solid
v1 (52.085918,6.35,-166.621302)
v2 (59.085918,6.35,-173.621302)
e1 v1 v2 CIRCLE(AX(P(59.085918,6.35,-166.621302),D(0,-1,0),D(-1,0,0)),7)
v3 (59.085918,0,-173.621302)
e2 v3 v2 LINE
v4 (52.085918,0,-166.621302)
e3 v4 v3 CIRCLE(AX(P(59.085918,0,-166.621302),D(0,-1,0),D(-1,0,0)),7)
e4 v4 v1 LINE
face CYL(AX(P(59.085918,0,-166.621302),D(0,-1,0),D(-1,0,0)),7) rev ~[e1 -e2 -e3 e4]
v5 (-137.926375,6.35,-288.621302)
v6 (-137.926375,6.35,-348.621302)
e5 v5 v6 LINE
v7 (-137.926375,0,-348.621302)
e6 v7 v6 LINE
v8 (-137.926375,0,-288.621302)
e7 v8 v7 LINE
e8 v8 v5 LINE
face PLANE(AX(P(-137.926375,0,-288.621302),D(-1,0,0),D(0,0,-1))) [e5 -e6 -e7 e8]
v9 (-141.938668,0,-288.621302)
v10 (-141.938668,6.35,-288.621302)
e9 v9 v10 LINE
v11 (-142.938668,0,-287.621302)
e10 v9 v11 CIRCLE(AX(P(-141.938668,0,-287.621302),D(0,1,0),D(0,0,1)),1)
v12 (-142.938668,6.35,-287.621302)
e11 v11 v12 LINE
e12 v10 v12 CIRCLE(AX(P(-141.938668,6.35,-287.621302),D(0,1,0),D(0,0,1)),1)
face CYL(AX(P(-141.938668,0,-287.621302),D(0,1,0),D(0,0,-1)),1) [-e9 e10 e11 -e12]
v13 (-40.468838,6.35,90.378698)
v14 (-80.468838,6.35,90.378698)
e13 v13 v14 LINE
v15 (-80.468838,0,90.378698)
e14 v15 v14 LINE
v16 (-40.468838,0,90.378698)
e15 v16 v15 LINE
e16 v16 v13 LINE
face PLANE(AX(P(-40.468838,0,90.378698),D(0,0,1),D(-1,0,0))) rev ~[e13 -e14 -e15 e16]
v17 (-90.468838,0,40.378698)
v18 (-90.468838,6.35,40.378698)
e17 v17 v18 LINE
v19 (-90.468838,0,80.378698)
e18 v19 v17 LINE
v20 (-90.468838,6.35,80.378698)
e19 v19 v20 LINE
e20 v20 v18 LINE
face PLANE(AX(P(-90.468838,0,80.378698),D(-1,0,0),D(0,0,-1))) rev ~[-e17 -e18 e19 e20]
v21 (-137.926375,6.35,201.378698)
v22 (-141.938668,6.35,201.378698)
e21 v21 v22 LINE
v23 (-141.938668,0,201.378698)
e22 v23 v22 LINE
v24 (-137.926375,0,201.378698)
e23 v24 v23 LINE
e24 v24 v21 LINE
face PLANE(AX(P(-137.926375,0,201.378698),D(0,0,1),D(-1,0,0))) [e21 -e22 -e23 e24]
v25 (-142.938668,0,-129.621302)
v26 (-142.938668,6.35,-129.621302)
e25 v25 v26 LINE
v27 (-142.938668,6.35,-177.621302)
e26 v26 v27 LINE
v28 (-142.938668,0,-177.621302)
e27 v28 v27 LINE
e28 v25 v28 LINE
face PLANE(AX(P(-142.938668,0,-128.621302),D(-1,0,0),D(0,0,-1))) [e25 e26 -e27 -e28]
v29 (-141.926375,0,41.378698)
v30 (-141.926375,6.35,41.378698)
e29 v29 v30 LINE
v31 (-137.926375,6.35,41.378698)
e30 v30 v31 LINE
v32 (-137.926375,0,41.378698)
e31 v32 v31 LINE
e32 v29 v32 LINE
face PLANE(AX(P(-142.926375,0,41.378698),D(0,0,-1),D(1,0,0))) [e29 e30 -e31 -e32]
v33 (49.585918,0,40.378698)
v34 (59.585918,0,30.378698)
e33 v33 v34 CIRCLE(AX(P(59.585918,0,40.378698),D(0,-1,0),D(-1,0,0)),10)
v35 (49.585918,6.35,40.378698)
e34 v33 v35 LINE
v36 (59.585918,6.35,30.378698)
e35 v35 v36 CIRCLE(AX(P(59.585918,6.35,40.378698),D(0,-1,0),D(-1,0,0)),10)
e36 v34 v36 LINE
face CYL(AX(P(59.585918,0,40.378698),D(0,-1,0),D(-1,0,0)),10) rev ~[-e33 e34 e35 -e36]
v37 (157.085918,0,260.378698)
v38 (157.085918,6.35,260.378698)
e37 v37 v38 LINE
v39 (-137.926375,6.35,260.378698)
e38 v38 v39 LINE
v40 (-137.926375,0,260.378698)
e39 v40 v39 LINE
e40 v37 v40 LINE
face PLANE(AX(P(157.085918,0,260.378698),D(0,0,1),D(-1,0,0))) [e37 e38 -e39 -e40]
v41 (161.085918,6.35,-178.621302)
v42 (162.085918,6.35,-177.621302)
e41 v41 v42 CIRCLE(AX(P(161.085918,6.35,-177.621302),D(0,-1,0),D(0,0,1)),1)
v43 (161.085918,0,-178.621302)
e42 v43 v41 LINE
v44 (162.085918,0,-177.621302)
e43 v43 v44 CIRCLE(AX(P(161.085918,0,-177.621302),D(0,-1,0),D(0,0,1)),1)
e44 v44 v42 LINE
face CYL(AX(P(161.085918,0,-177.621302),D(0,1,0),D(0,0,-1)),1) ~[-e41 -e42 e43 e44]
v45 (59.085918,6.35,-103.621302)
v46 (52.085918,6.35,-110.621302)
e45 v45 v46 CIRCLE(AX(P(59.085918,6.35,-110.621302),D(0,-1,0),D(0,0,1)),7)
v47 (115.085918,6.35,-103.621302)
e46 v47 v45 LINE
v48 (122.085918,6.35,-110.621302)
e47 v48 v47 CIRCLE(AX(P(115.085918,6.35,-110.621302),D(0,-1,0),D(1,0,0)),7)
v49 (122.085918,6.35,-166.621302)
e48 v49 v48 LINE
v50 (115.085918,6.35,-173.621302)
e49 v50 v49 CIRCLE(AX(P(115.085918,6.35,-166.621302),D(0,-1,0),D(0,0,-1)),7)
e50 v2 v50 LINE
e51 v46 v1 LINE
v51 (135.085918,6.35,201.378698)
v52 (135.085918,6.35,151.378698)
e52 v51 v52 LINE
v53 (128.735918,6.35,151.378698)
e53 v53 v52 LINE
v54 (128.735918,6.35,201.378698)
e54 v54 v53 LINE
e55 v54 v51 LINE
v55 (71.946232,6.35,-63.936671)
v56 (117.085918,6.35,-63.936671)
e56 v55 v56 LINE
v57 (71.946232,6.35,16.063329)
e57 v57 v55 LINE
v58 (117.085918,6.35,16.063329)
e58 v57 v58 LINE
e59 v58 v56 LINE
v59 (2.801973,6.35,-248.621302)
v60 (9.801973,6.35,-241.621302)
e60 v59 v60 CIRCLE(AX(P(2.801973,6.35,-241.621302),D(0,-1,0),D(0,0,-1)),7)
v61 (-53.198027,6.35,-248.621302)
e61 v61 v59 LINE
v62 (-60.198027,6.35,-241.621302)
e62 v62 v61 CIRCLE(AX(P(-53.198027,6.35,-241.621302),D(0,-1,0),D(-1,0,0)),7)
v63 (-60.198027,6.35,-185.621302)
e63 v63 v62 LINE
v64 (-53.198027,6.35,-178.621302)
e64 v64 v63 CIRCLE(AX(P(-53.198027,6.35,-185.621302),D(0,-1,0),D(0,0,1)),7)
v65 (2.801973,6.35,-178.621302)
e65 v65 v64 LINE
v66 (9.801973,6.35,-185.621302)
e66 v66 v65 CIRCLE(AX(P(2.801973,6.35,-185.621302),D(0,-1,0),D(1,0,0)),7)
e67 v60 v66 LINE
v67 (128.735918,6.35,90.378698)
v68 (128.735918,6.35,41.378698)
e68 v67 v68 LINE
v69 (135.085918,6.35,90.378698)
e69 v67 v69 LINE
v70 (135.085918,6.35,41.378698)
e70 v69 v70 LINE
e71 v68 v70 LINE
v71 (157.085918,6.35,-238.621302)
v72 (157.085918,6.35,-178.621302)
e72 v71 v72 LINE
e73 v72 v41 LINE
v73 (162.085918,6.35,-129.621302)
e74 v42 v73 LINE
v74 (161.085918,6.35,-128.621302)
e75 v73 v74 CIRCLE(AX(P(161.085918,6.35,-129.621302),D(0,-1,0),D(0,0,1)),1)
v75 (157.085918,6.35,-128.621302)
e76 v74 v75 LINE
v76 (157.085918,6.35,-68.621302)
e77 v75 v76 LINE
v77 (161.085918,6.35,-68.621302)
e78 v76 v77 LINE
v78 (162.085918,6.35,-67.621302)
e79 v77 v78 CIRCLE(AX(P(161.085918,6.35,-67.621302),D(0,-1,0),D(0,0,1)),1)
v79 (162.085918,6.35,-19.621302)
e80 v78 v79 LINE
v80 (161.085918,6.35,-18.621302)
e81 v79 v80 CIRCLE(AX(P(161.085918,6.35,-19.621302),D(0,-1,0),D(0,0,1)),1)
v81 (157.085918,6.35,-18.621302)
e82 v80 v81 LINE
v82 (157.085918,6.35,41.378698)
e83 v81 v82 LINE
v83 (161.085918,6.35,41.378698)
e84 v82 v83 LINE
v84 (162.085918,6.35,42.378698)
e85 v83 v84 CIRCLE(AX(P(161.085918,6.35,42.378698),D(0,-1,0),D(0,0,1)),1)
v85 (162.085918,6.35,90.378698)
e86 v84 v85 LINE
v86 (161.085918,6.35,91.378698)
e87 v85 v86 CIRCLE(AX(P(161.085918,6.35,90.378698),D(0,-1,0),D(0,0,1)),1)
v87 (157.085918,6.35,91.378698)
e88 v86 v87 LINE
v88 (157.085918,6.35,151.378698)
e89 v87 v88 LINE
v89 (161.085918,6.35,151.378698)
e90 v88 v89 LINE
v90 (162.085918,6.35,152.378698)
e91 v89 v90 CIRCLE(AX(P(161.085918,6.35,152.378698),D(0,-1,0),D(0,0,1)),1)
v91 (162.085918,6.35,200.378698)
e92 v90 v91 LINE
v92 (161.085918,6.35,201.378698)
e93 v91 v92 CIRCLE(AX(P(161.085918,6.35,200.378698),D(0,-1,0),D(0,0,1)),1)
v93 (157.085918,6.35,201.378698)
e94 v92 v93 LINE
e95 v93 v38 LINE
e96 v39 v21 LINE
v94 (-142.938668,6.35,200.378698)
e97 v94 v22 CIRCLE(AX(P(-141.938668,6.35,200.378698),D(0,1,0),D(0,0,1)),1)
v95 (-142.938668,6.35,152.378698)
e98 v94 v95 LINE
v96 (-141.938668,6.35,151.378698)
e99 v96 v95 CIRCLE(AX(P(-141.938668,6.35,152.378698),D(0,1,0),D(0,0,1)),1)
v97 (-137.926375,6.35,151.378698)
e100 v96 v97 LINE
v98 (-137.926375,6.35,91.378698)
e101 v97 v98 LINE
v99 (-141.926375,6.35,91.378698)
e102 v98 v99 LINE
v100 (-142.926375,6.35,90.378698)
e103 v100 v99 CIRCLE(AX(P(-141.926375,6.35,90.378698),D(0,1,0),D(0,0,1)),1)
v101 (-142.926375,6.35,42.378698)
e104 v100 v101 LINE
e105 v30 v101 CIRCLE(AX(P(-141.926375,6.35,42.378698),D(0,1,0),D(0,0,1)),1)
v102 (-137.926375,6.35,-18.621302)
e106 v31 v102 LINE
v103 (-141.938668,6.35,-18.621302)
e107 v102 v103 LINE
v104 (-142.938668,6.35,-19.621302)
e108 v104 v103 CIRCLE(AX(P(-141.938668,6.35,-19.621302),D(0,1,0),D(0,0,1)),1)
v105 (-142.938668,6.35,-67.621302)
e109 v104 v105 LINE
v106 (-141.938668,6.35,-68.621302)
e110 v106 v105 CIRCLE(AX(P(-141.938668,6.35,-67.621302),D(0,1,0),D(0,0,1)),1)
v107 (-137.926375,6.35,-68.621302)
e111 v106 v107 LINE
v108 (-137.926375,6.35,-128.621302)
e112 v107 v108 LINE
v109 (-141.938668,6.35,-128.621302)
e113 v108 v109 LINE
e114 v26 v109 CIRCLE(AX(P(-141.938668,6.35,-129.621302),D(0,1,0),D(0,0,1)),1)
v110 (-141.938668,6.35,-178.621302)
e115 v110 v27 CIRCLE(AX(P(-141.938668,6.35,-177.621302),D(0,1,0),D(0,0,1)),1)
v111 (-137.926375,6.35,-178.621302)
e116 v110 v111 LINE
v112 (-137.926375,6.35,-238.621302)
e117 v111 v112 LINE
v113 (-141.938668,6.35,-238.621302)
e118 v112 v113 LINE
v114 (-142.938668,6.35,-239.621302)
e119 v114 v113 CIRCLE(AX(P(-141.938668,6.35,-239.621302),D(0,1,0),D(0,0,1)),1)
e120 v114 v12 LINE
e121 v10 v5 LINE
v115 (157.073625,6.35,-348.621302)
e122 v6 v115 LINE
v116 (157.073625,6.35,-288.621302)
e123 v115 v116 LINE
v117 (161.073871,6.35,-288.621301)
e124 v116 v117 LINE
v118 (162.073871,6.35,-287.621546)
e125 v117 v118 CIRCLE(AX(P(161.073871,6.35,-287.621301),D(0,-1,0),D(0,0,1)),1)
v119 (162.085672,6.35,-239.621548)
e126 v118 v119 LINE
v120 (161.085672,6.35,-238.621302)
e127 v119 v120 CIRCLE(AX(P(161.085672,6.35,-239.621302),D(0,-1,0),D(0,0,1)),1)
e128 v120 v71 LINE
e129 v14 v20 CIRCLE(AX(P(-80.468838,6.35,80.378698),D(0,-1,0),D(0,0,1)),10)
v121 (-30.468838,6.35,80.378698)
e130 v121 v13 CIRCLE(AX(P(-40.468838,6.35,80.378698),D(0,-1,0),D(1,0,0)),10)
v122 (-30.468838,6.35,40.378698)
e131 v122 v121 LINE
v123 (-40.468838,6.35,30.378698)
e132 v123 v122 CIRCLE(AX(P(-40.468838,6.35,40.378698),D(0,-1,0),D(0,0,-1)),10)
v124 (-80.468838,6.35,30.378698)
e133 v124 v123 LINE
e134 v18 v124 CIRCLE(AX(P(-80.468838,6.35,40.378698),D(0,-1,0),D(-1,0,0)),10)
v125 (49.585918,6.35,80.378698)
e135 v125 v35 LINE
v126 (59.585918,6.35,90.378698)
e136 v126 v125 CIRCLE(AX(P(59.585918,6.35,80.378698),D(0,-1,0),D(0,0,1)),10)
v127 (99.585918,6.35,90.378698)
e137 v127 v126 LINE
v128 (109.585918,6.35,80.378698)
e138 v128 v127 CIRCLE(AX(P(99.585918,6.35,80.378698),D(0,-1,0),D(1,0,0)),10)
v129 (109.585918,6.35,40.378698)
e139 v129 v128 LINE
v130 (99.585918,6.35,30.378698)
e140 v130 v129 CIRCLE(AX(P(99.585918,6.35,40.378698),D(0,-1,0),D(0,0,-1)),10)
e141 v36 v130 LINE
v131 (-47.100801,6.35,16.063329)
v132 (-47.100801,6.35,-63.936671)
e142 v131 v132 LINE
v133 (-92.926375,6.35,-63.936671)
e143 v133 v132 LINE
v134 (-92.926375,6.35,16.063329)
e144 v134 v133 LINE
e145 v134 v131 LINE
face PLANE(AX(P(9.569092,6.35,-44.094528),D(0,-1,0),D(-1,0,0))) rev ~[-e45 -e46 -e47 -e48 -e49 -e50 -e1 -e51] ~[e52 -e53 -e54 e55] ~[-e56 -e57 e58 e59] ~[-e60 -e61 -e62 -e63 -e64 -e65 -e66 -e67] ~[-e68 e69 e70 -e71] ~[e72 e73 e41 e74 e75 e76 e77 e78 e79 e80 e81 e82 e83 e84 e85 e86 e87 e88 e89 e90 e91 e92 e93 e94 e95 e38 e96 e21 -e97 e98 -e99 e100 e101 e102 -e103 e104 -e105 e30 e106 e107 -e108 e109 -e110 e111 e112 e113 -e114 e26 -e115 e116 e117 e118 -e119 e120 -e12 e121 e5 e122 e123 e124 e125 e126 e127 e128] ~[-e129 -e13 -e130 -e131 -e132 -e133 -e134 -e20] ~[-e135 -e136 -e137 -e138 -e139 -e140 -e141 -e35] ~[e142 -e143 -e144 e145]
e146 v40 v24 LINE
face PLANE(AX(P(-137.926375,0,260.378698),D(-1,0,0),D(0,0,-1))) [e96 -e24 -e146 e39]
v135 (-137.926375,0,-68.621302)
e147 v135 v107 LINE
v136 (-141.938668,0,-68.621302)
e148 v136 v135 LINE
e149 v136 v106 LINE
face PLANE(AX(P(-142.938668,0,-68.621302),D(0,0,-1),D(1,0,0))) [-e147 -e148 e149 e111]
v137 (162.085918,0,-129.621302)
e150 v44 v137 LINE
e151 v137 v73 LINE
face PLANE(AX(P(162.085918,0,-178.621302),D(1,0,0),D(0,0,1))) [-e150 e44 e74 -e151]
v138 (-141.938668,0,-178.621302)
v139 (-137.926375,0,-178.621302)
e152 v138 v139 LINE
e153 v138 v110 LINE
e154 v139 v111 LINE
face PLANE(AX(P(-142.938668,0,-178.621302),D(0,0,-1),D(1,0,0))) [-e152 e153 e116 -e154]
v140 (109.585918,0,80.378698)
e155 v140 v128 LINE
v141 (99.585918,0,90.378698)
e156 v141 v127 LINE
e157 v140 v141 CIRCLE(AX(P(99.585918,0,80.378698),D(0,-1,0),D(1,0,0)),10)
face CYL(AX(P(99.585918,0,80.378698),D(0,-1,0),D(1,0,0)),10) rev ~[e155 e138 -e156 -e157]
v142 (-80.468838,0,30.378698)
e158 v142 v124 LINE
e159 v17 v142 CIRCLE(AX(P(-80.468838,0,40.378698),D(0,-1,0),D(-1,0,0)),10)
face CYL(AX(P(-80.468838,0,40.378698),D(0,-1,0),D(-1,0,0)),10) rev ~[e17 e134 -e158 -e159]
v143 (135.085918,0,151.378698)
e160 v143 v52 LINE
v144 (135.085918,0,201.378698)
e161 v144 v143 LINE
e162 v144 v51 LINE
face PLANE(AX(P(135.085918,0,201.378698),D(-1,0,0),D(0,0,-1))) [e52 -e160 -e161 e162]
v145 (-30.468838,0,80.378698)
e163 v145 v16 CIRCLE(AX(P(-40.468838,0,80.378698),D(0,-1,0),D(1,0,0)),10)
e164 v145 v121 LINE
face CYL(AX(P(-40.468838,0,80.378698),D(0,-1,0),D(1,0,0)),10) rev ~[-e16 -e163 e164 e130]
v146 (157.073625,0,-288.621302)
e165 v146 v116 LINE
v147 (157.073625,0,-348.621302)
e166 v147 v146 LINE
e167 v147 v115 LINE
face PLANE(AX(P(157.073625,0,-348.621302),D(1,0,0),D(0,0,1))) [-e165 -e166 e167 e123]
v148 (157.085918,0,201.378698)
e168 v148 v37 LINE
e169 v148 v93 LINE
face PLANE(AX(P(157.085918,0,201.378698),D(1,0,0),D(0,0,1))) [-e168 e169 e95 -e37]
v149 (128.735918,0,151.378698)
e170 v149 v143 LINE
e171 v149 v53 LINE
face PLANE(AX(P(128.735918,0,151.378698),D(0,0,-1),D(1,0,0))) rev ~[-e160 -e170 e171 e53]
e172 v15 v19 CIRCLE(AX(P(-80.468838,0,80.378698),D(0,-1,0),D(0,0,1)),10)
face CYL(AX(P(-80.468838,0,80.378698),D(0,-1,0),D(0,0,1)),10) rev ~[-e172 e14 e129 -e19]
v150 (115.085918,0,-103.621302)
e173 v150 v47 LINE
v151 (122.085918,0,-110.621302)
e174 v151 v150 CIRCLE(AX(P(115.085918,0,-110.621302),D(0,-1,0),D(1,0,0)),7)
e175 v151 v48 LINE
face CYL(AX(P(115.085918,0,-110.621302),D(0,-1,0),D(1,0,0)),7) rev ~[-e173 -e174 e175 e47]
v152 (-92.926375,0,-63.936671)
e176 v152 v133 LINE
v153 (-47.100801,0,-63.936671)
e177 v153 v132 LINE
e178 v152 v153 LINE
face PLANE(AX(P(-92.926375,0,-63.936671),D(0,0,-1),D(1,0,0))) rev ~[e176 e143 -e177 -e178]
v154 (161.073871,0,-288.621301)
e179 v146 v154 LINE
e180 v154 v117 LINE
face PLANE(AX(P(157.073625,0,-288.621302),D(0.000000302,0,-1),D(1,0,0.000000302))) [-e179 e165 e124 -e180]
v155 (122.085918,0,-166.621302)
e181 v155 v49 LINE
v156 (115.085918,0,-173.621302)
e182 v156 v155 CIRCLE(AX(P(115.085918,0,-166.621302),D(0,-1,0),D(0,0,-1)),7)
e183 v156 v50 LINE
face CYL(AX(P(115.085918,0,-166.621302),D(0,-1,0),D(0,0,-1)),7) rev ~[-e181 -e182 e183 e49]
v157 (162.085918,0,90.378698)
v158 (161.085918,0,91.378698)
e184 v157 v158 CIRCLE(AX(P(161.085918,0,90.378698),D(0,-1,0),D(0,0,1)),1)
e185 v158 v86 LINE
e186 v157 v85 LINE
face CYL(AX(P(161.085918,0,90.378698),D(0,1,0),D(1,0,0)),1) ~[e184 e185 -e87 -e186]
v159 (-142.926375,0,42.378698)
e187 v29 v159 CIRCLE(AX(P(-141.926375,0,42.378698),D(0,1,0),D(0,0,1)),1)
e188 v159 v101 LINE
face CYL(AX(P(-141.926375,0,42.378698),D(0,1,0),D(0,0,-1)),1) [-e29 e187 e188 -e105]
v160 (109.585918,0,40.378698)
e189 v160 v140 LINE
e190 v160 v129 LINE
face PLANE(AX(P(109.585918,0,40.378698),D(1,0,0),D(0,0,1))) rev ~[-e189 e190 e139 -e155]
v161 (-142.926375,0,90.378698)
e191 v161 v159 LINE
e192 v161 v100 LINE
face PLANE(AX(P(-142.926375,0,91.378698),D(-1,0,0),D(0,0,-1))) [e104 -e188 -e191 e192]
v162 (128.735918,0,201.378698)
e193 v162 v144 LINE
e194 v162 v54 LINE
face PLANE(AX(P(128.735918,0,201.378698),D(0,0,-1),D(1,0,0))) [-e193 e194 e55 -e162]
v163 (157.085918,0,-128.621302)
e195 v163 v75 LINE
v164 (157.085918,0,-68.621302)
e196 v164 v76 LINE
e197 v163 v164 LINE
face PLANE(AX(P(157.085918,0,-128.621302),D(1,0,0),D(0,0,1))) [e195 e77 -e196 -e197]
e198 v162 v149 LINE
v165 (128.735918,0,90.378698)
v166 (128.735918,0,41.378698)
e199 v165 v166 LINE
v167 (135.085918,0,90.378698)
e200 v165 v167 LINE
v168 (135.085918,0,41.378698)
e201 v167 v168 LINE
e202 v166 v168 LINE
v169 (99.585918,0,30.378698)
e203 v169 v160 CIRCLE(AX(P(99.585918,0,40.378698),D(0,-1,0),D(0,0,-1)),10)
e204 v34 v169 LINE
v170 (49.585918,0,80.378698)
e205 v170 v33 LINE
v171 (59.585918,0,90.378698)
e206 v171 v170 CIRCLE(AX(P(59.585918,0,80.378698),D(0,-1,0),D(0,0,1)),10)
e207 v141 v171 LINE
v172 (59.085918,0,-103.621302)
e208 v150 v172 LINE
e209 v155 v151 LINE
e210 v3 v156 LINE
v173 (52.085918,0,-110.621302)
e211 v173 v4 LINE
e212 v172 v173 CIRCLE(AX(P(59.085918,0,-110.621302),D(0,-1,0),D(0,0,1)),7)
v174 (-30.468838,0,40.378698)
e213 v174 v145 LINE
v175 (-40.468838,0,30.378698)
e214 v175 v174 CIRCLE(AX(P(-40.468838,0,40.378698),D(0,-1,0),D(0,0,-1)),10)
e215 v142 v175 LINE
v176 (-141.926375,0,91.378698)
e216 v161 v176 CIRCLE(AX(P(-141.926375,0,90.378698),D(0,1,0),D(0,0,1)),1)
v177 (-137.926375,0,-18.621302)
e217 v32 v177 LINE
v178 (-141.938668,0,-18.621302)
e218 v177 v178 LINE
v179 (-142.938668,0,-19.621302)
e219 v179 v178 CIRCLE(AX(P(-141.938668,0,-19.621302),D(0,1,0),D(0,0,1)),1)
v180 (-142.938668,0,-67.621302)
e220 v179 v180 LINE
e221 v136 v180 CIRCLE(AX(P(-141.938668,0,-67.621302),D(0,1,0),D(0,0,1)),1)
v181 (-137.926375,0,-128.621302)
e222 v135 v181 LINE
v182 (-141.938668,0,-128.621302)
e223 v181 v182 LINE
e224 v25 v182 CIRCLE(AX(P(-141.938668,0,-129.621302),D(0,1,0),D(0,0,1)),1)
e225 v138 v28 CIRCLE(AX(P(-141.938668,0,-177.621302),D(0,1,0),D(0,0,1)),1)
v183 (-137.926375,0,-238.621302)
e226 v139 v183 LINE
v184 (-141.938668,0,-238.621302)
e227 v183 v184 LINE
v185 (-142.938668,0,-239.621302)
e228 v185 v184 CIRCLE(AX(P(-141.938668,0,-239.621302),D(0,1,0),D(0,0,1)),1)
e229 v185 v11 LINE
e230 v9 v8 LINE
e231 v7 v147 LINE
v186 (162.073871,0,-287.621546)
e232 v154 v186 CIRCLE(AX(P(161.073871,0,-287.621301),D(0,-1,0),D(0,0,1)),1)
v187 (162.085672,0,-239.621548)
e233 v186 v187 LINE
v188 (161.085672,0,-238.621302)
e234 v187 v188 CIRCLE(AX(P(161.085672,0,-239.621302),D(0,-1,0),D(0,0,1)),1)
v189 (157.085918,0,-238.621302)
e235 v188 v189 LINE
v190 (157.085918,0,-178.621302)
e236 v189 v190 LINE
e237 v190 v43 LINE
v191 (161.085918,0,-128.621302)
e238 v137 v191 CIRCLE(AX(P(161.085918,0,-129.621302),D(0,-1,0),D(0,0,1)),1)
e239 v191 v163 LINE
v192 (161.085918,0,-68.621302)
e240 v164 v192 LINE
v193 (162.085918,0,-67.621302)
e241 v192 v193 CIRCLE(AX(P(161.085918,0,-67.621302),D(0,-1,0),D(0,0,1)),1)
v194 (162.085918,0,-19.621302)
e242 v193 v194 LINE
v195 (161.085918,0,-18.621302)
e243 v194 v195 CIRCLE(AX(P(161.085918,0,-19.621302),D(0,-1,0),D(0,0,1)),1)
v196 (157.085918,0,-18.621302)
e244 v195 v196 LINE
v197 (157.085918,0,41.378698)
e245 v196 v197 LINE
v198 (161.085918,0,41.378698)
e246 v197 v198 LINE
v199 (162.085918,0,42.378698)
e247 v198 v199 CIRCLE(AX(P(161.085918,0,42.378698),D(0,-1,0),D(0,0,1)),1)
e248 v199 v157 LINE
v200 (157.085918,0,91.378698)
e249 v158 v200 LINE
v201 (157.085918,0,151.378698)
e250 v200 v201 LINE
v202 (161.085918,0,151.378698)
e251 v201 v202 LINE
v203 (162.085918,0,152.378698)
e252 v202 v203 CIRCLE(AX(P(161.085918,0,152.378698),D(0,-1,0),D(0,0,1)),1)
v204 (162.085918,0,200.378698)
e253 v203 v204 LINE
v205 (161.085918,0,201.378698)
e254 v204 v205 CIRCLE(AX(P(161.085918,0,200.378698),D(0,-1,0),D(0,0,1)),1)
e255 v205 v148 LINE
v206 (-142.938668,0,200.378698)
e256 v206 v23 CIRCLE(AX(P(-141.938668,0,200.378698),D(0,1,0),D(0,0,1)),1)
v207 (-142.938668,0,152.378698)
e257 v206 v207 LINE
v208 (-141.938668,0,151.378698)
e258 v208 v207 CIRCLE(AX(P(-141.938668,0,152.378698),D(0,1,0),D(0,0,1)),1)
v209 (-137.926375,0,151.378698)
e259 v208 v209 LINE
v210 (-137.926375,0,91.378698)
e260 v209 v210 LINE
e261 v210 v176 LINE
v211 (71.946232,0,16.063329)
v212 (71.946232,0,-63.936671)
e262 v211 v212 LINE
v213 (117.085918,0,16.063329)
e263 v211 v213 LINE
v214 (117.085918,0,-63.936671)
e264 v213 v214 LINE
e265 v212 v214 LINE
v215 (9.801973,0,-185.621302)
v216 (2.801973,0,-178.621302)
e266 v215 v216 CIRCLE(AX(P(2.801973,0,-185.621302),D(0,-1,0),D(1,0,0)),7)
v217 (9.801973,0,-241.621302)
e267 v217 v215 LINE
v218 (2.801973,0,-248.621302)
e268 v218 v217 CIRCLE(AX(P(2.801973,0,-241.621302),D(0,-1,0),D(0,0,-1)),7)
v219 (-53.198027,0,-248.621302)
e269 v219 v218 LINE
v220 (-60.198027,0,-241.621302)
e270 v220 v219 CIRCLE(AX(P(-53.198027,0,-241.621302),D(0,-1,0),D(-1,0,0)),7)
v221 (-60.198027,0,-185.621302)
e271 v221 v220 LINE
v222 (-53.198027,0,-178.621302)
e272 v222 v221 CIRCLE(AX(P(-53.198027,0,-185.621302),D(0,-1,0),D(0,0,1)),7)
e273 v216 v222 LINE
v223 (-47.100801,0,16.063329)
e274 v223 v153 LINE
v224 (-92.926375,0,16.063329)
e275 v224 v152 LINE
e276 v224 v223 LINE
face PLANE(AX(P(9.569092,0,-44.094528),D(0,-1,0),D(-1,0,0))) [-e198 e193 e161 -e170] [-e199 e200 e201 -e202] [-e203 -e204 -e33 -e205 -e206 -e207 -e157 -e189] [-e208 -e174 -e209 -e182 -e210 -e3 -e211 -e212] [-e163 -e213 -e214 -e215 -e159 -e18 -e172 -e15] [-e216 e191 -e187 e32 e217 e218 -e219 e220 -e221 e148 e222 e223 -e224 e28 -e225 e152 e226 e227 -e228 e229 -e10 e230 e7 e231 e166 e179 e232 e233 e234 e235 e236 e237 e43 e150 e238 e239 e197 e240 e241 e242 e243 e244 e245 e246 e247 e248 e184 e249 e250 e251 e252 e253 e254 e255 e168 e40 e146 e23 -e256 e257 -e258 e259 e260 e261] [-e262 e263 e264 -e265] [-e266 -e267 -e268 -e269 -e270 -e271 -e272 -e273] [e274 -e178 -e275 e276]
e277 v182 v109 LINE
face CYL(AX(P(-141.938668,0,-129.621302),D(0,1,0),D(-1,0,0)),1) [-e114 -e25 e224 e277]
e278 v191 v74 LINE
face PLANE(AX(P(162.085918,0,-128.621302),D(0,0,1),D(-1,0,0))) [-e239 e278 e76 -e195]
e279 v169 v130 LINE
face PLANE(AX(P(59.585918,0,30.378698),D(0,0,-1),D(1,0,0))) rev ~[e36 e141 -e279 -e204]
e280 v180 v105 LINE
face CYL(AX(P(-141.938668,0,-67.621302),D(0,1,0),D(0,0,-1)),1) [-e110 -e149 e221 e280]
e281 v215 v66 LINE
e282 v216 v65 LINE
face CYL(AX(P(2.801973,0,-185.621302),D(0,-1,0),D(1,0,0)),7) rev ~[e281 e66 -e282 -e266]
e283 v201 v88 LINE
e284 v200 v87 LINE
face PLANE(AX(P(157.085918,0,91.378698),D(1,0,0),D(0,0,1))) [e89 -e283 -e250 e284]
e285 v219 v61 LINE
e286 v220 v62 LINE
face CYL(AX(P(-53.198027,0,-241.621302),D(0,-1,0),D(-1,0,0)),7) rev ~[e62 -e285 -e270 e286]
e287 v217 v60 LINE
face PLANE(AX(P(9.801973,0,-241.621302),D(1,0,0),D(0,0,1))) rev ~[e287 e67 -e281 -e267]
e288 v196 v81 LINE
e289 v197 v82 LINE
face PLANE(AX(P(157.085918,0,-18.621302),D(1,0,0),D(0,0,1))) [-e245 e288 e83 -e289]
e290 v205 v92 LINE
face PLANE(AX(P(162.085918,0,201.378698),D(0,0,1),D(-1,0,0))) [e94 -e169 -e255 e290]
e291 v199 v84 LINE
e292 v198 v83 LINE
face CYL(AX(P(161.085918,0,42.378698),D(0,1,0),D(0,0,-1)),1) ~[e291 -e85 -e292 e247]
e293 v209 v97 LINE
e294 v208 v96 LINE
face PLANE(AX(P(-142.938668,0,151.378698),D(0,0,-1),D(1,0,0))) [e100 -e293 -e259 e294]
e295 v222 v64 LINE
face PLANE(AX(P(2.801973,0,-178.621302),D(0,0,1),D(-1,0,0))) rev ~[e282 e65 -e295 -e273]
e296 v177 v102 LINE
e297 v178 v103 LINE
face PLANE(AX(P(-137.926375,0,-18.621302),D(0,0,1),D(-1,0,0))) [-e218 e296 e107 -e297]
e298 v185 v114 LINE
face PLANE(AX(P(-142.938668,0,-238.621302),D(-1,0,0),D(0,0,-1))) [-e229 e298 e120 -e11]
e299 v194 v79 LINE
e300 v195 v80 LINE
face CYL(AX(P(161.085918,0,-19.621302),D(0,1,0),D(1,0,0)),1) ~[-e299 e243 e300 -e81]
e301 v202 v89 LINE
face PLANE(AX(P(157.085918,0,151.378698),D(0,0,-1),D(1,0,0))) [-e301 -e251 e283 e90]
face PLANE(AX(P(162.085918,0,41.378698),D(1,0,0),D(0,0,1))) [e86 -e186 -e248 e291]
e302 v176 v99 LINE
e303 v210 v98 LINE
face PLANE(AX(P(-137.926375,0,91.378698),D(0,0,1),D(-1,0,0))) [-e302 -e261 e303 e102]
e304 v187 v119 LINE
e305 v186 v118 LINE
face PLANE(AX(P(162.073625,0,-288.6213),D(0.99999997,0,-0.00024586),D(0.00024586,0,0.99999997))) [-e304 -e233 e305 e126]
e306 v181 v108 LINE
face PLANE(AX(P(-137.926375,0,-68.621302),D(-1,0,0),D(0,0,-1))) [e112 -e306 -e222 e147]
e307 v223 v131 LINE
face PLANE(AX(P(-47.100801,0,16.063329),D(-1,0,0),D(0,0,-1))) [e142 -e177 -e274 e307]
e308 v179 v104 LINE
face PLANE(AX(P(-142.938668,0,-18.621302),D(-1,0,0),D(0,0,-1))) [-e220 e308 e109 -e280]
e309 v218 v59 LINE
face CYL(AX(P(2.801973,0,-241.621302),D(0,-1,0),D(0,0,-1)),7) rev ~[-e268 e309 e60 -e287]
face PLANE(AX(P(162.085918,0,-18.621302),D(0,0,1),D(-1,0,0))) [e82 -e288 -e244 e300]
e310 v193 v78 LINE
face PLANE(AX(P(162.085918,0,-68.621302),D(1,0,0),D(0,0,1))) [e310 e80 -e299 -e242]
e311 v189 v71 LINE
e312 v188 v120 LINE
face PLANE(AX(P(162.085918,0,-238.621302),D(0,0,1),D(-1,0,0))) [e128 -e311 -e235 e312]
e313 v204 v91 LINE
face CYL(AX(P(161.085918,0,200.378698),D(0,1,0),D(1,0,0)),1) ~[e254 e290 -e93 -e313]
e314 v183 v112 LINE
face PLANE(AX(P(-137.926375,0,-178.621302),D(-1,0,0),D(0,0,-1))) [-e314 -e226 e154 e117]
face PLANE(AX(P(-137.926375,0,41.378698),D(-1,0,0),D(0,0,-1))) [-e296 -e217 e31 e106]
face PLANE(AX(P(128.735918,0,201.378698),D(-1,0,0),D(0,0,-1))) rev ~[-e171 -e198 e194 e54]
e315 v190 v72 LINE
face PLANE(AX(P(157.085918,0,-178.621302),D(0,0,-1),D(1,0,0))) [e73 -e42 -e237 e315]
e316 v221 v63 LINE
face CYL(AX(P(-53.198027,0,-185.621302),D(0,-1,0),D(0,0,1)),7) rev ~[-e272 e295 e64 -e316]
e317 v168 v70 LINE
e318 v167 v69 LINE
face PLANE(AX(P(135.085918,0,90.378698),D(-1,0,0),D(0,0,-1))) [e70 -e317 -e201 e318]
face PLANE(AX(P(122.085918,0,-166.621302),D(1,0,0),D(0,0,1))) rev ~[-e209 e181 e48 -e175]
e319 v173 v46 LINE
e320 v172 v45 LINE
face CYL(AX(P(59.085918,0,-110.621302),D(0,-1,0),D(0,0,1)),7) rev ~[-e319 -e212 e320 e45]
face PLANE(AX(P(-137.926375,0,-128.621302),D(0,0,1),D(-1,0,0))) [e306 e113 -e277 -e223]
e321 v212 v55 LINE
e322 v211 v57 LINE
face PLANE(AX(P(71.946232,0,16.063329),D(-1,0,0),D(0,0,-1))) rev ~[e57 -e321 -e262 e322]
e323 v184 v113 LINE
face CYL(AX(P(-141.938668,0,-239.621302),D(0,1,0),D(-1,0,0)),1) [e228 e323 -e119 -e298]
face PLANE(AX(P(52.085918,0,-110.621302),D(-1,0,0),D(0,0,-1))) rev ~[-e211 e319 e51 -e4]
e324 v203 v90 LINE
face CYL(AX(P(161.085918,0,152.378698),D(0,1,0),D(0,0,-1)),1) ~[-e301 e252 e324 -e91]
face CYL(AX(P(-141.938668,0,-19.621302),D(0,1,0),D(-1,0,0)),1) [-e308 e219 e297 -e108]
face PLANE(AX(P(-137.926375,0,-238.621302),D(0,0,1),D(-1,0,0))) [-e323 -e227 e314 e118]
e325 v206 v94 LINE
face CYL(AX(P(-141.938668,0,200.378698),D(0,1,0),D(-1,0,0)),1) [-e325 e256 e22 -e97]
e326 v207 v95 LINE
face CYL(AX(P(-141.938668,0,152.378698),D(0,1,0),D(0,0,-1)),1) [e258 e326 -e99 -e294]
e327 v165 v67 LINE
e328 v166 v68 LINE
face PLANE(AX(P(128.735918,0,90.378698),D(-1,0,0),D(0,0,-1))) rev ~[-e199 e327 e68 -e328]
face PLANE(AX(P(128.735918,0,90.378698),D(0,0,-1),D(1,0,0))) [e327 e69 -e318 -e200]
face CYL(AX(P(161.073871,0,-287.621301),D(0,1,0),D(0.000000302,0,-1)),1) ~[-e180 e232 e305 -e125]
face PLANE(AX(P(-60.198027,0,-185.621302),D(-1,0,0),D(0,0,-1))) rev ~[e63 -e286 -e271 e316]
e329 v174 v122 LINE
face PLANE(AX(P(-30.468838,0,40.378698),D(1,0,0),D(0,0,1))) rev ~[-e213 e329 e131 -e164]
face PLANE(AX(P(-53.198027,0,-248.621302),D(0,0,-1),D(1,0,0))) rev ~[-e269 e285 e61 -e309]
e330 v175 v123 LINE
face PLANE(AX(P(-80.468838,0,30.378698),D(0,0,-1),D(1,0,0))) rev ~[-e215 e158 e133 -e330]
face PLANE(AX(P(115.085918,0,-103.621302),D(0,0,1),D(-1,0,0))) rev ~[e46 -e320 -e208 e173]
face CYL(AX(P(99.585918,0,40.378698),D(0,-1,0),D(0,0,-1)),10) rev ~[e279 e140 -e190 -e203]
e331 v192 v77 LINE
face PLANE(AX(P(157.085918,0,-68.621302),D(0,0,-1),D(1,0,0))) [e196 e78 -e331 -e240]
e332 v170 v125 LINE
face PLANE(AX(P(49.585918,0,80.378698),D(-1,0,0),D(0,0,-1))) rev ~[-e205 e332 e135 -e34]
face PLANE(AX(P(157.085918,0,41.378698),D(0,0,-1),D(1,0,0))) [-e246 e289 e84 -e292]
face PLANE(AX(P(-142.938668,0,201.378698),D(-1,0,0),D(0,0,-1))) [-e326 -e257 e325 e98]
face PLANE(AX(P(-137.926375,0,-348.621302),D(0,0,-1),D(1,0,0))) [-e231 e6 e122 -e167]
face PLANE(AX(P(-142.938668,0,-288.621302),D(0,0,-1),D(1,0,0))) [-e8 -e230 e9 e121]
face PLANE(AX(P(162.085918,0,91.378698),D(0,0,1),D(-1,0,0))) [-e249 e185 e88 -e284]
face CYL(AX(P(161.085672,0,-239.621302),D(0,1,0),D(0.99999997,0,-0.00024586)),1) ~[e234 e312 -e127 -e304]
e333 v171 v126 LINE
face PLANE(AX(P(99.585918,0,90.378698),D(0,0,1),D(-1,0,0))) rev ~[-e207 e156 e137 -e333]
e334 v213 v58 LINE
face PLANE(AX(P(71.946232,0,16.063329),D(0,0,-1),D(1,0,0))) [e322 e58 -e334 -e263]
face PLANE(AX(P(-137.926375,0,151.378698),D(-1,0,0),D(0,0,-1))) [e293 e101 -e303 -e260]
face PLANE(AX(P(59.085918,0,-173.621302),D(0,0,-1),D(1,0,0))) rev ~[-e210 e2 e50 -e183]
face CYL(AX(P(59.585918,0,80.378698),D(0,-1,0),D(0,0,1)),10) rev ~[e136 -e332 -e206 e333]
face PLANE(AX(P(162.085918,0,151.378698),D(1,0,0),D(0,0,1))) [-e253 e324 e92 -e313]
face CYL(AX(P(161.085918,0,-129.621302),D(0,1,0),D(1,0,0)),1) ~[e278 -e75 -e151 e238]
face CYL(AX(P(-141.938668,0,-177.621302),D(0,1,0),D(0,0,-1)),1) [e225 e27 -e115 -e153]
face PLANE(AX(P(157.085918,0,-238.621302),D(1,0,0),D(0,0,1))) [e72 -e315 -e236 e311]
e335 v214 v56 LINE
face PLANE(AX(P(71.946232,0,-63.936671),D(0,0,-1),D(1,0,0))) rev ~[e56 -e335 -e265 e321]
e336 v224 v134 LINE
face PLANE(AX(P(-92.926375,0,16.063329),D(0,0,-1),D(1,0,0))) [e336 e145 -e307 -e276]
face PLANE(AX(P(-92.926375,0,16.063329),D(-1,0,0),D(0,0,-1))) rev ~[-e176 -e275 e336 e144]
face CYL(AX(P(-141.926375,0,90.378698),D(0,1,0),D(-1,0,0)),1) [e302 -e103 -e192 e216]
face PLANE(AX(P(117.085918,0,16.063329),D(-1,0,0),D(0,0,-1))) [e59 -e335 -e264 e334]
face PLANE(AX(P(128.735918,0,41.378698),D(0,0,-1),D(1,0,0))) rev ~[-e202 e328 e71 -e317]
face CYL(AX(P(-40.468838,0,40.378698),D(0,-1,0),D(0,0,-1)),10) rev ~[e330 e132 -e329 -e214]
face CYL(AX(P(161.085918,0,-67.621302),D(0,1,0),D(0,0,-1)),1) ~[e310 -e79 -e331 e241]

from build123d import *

# Parameters (mm, degrees)
SKETCH1_W           = 6.35
SKETCH1_H           = 50
SKETCH1_H_2         = 49
SKETCH1_W_2         = 45.825573982
SKETCH1_H_3         = 80
SKETCH1_W_3         = 45.139685757
BOSS_EXTRUDE1_DEPTH = 6.35
FILLET1_R           = 1


with BuildPart() as part:
    # Sketch1 → Boss-Extrude1 (new body)
    with BuildSketch(Plane(origin=(0, 0, 0), x_dir=(1, 0, 0), z_dir=(0, 1, 0))):
        Polygon((157.073624904, 348.621301775), (157.073624902, 288.621301775), (162.073624902, 288.621300264), (162.085917882, 238.621301775), (157.085917882, 238.621301775), (157.085917882, 178.621301775), (162.085917882, 178.621301775), (162.085917882, 128.621301775), (157.085917882, 128.621301775), (157.085917882, 68.621301775), (162.085917882, 68.621301775), (162.085917882, 18.621301775), (157.085917882, 18.621301775), (157.085917882, -41.378698225), (162.085917882, -41.378698225), (162.085917882, -91.378698225), (157.085917882, -91.378698225), (157.085917882, -151.378698225), (162.085917882, -151.378698225), (162.085917882, -201.378698225), (157.085917882, -201.378698225), (157.085917882, -260.378698225), (-137.926375098, -260.378698225), (-137.926375098, -201.378698225), (-142.938668078, -201.378698225), (-142.938668078, -151.378698225), (-137.926375098, -151.378698225), (-137.926375098, -91.378698225), (-142.926375098, -91.378698225), (-142.926375098, -41.378698225), (-137.926375098, -41.378698225), (-137.926375098, 18.621301775), (-142.938668078, 18.621301775), (-142.938668078, 68.621301775), (-137.926375098, 68.621301775), (-137.926375098, 128.621301775), (-142.938668078, 128.621301775), (-142.938668078, 178.621301775), (-137.926375098, 178.621301775), (-137.926375098, 238.621301775), (-142.938668078, 238.621301775), (-142.938668078, 288.621301775), (-137.926375096, 288.621301775), (-137.926375096, 348.621301775), align=None)
        with BuildLine():
            Line((-80.468838102, -30.378698225), (-40.468838102, -30.378698225))
            ThreePointArc((-40.468838102, -30.378698225), (-33.39777029, -33.307630413), (-30.468838102, -40.378698225))
            Line((-30.468838102, -40.378698225), (-30.468838102, -80.378698225))
            ThreePointArc((-30.468838102, -80.378698225), (-33.39777029, -87.449766037), (-40.468838102, -90.378698225))
            Line((-40.468838102, -90.378698225), (-80.468838102, -90.378698225))
            ThreePointArc((-80.468838102, -90.378698225), (-87.539905914, -87.449766037), (-90.468838102, -80.378698225))
            Line((-90.468838102, -80.378698225), (-90.468838102, -40.378698225))
            ThreePointArc((-90.468838102, -40.378698225), (-87.539905914, -33.307630413), (-80.468838102, -30.378698225))
        make_face(mode=Mode.SUBTRACT)
        with BuildLine():
            Line((59.585917882, -30.378698225), (99.585917882, -30.378698225))
            ThreePointArc((99.585917882, -30.378698225), (106.656985694, -33.307630413), (109.585917882, -40.378698225))
            Line((109.585917882, -40.378698225), (109.585917882, -80.378698225))
            ThreePointArc((109.585917882, -80.378698225), (106.656985694, -87.449766037), (99.585917882, -90.378698225))
            Line((99.585917882, -90.378698225), (59.585917882, -90.378698225))
            ThreePointArc((59.585917882, -90.378698225), (52.51485007, -87.449766037), (49.585917882, -80.378698225))
            Line((49.585917882, -80.378698225), (49.585917882, -40.378698225))
            ThreePointArc((49.585917882, -40.378698225), (52.51485007, -33.307630413), (59.585917882, -30.378698225))
        make_face(mode=Mode.SUBTRACT)
        with Locations((131.910917882, -176.378698225)):
            Rectangle(SKETCH1_W, SKETCH1_H, mode=Mode.SUBTRACT)
        with Locations((131.910917882, -65.878698225)):
            Rectangle(SKETCH1_W, SKETCH1_H_2, mode=Mode.SUBTRACT)
        with BuildLine():
            Line((-53.19802656, 248.621301775), (2.80197344, 248.621301775))
            ThreePointArc((2.80197344, 248.621301775), (7.751720908, 246.571049243), (9.80197344, 241.621301775))
            Line((9.80197344, 241.621301775), (9.80197344, 185.621301775))
            ThreePointArc((9.80197344, 185.621301775), (7.751720908, 180.671554307), (2.80197344, 178.621301775))
            Line((2.80197344, 178.621301775), (-53.198026561, 178.621301775))
            ThreePointArc((-53.198026561, 178.621301775), (-58.147774029, 180.671554307), (-60.198026561, 185.621301775))
            Line((-60.198026561, 185.621301775), (-60.19802656, 241.621301775))
            ThreePointArc((-60.19802656, 241.621301775), (-58.147774029, 246.571049243), (-53.19802656, 248.621301775))
        make_face(mode=Mode.SUBTRACT)
        with BuildLine():
            Line((59.085917882, 173.621301775), (115.085917882, 173.621301775))
            ThreePointArc((115.085917882, 173.621301775), (120.03566535, 171.571049243), (122.085917882, 166.621301775))
            Line((122.085917882, 166.621301775), (122.085917882, 110.621301775))
            ThreePointArc((122.085917882, 110.621301775), (120.03566535, 105.671554307), (115.085917882, 103.621301775))
            Line((115.085917882, 103.621301775), (59.085917882, 103.621301775))
            ThreePointArc((59.085917882, 103.621301775), (54.136170414, 105.671554307), (52.085917882, 110.621301775))
            Line((52.085917882, 110.621301775), (52.085917882, 166.621301775))
            ThreePointArc((52.085917882, 166.621301775), (54.136170414, 171.571049243), (59.085917882, 173.621301775))
        make_face(mode=Mode.SUBTRACT)
        with Locations((-70.013588107, 23.936670646)):
            Rectangle(SKETCH1_W_2, SKETCH1_H_3, mode=Mode.SUBTRACT)
        with Locations((94.516075004, 23.936670646)):
            Rectangle(SKETCH1_W_3, SKETCH1_H_3, mode=Mode.SUBTRACT)
    extrude(amount=BOSS_EXTRUDE1_DEPTH)

    # Fillet1
    fillet1_edges = [part.edges().sort_by_distance(p)[0] for p in [
        (162.073624902, 3.175, -288.621300264),
        (162.085917882, 3.175, -238.621301775),
        (162.085917882, 3.175, -178.621301775),
        (162.085917882, 3.175, -128.621301775),
        (162.085917882, 3.175, -68.621301775),
        (162.085917882, 3.175, -18.621301775),
        (162.085917882, 3.175, 41.378698225),
        (162.085917882, 3.175, 91.378698225),
        (162.085917882, 3.175, 151.378698225),
        (162.085917882, 3.175, 201.378698225),
        (-142.938668078, 3.175, 201.378698225),
        (-142.938668078, 3.175, 151.378698225),
        (-142.926375098, 3.175, 91.378698225),
        (-142.926375098, 3.175, 41.378698225),
        (-142.938668078, 3.175, -18.621301775),
        (-142.938668078, 3.175, -68.621301775),
        (-142.938668078, 3.175, -128.621301775),
        (-142.938668078, 3.175, -178.621301775),
        (-142.938668078, 3.175, -238.621301775),
        (-142.938668078, 3.175, -288.621301775),
    ]]
    fillet(fillet1_edges, radius=FILLET1_R)


solid = part.part
